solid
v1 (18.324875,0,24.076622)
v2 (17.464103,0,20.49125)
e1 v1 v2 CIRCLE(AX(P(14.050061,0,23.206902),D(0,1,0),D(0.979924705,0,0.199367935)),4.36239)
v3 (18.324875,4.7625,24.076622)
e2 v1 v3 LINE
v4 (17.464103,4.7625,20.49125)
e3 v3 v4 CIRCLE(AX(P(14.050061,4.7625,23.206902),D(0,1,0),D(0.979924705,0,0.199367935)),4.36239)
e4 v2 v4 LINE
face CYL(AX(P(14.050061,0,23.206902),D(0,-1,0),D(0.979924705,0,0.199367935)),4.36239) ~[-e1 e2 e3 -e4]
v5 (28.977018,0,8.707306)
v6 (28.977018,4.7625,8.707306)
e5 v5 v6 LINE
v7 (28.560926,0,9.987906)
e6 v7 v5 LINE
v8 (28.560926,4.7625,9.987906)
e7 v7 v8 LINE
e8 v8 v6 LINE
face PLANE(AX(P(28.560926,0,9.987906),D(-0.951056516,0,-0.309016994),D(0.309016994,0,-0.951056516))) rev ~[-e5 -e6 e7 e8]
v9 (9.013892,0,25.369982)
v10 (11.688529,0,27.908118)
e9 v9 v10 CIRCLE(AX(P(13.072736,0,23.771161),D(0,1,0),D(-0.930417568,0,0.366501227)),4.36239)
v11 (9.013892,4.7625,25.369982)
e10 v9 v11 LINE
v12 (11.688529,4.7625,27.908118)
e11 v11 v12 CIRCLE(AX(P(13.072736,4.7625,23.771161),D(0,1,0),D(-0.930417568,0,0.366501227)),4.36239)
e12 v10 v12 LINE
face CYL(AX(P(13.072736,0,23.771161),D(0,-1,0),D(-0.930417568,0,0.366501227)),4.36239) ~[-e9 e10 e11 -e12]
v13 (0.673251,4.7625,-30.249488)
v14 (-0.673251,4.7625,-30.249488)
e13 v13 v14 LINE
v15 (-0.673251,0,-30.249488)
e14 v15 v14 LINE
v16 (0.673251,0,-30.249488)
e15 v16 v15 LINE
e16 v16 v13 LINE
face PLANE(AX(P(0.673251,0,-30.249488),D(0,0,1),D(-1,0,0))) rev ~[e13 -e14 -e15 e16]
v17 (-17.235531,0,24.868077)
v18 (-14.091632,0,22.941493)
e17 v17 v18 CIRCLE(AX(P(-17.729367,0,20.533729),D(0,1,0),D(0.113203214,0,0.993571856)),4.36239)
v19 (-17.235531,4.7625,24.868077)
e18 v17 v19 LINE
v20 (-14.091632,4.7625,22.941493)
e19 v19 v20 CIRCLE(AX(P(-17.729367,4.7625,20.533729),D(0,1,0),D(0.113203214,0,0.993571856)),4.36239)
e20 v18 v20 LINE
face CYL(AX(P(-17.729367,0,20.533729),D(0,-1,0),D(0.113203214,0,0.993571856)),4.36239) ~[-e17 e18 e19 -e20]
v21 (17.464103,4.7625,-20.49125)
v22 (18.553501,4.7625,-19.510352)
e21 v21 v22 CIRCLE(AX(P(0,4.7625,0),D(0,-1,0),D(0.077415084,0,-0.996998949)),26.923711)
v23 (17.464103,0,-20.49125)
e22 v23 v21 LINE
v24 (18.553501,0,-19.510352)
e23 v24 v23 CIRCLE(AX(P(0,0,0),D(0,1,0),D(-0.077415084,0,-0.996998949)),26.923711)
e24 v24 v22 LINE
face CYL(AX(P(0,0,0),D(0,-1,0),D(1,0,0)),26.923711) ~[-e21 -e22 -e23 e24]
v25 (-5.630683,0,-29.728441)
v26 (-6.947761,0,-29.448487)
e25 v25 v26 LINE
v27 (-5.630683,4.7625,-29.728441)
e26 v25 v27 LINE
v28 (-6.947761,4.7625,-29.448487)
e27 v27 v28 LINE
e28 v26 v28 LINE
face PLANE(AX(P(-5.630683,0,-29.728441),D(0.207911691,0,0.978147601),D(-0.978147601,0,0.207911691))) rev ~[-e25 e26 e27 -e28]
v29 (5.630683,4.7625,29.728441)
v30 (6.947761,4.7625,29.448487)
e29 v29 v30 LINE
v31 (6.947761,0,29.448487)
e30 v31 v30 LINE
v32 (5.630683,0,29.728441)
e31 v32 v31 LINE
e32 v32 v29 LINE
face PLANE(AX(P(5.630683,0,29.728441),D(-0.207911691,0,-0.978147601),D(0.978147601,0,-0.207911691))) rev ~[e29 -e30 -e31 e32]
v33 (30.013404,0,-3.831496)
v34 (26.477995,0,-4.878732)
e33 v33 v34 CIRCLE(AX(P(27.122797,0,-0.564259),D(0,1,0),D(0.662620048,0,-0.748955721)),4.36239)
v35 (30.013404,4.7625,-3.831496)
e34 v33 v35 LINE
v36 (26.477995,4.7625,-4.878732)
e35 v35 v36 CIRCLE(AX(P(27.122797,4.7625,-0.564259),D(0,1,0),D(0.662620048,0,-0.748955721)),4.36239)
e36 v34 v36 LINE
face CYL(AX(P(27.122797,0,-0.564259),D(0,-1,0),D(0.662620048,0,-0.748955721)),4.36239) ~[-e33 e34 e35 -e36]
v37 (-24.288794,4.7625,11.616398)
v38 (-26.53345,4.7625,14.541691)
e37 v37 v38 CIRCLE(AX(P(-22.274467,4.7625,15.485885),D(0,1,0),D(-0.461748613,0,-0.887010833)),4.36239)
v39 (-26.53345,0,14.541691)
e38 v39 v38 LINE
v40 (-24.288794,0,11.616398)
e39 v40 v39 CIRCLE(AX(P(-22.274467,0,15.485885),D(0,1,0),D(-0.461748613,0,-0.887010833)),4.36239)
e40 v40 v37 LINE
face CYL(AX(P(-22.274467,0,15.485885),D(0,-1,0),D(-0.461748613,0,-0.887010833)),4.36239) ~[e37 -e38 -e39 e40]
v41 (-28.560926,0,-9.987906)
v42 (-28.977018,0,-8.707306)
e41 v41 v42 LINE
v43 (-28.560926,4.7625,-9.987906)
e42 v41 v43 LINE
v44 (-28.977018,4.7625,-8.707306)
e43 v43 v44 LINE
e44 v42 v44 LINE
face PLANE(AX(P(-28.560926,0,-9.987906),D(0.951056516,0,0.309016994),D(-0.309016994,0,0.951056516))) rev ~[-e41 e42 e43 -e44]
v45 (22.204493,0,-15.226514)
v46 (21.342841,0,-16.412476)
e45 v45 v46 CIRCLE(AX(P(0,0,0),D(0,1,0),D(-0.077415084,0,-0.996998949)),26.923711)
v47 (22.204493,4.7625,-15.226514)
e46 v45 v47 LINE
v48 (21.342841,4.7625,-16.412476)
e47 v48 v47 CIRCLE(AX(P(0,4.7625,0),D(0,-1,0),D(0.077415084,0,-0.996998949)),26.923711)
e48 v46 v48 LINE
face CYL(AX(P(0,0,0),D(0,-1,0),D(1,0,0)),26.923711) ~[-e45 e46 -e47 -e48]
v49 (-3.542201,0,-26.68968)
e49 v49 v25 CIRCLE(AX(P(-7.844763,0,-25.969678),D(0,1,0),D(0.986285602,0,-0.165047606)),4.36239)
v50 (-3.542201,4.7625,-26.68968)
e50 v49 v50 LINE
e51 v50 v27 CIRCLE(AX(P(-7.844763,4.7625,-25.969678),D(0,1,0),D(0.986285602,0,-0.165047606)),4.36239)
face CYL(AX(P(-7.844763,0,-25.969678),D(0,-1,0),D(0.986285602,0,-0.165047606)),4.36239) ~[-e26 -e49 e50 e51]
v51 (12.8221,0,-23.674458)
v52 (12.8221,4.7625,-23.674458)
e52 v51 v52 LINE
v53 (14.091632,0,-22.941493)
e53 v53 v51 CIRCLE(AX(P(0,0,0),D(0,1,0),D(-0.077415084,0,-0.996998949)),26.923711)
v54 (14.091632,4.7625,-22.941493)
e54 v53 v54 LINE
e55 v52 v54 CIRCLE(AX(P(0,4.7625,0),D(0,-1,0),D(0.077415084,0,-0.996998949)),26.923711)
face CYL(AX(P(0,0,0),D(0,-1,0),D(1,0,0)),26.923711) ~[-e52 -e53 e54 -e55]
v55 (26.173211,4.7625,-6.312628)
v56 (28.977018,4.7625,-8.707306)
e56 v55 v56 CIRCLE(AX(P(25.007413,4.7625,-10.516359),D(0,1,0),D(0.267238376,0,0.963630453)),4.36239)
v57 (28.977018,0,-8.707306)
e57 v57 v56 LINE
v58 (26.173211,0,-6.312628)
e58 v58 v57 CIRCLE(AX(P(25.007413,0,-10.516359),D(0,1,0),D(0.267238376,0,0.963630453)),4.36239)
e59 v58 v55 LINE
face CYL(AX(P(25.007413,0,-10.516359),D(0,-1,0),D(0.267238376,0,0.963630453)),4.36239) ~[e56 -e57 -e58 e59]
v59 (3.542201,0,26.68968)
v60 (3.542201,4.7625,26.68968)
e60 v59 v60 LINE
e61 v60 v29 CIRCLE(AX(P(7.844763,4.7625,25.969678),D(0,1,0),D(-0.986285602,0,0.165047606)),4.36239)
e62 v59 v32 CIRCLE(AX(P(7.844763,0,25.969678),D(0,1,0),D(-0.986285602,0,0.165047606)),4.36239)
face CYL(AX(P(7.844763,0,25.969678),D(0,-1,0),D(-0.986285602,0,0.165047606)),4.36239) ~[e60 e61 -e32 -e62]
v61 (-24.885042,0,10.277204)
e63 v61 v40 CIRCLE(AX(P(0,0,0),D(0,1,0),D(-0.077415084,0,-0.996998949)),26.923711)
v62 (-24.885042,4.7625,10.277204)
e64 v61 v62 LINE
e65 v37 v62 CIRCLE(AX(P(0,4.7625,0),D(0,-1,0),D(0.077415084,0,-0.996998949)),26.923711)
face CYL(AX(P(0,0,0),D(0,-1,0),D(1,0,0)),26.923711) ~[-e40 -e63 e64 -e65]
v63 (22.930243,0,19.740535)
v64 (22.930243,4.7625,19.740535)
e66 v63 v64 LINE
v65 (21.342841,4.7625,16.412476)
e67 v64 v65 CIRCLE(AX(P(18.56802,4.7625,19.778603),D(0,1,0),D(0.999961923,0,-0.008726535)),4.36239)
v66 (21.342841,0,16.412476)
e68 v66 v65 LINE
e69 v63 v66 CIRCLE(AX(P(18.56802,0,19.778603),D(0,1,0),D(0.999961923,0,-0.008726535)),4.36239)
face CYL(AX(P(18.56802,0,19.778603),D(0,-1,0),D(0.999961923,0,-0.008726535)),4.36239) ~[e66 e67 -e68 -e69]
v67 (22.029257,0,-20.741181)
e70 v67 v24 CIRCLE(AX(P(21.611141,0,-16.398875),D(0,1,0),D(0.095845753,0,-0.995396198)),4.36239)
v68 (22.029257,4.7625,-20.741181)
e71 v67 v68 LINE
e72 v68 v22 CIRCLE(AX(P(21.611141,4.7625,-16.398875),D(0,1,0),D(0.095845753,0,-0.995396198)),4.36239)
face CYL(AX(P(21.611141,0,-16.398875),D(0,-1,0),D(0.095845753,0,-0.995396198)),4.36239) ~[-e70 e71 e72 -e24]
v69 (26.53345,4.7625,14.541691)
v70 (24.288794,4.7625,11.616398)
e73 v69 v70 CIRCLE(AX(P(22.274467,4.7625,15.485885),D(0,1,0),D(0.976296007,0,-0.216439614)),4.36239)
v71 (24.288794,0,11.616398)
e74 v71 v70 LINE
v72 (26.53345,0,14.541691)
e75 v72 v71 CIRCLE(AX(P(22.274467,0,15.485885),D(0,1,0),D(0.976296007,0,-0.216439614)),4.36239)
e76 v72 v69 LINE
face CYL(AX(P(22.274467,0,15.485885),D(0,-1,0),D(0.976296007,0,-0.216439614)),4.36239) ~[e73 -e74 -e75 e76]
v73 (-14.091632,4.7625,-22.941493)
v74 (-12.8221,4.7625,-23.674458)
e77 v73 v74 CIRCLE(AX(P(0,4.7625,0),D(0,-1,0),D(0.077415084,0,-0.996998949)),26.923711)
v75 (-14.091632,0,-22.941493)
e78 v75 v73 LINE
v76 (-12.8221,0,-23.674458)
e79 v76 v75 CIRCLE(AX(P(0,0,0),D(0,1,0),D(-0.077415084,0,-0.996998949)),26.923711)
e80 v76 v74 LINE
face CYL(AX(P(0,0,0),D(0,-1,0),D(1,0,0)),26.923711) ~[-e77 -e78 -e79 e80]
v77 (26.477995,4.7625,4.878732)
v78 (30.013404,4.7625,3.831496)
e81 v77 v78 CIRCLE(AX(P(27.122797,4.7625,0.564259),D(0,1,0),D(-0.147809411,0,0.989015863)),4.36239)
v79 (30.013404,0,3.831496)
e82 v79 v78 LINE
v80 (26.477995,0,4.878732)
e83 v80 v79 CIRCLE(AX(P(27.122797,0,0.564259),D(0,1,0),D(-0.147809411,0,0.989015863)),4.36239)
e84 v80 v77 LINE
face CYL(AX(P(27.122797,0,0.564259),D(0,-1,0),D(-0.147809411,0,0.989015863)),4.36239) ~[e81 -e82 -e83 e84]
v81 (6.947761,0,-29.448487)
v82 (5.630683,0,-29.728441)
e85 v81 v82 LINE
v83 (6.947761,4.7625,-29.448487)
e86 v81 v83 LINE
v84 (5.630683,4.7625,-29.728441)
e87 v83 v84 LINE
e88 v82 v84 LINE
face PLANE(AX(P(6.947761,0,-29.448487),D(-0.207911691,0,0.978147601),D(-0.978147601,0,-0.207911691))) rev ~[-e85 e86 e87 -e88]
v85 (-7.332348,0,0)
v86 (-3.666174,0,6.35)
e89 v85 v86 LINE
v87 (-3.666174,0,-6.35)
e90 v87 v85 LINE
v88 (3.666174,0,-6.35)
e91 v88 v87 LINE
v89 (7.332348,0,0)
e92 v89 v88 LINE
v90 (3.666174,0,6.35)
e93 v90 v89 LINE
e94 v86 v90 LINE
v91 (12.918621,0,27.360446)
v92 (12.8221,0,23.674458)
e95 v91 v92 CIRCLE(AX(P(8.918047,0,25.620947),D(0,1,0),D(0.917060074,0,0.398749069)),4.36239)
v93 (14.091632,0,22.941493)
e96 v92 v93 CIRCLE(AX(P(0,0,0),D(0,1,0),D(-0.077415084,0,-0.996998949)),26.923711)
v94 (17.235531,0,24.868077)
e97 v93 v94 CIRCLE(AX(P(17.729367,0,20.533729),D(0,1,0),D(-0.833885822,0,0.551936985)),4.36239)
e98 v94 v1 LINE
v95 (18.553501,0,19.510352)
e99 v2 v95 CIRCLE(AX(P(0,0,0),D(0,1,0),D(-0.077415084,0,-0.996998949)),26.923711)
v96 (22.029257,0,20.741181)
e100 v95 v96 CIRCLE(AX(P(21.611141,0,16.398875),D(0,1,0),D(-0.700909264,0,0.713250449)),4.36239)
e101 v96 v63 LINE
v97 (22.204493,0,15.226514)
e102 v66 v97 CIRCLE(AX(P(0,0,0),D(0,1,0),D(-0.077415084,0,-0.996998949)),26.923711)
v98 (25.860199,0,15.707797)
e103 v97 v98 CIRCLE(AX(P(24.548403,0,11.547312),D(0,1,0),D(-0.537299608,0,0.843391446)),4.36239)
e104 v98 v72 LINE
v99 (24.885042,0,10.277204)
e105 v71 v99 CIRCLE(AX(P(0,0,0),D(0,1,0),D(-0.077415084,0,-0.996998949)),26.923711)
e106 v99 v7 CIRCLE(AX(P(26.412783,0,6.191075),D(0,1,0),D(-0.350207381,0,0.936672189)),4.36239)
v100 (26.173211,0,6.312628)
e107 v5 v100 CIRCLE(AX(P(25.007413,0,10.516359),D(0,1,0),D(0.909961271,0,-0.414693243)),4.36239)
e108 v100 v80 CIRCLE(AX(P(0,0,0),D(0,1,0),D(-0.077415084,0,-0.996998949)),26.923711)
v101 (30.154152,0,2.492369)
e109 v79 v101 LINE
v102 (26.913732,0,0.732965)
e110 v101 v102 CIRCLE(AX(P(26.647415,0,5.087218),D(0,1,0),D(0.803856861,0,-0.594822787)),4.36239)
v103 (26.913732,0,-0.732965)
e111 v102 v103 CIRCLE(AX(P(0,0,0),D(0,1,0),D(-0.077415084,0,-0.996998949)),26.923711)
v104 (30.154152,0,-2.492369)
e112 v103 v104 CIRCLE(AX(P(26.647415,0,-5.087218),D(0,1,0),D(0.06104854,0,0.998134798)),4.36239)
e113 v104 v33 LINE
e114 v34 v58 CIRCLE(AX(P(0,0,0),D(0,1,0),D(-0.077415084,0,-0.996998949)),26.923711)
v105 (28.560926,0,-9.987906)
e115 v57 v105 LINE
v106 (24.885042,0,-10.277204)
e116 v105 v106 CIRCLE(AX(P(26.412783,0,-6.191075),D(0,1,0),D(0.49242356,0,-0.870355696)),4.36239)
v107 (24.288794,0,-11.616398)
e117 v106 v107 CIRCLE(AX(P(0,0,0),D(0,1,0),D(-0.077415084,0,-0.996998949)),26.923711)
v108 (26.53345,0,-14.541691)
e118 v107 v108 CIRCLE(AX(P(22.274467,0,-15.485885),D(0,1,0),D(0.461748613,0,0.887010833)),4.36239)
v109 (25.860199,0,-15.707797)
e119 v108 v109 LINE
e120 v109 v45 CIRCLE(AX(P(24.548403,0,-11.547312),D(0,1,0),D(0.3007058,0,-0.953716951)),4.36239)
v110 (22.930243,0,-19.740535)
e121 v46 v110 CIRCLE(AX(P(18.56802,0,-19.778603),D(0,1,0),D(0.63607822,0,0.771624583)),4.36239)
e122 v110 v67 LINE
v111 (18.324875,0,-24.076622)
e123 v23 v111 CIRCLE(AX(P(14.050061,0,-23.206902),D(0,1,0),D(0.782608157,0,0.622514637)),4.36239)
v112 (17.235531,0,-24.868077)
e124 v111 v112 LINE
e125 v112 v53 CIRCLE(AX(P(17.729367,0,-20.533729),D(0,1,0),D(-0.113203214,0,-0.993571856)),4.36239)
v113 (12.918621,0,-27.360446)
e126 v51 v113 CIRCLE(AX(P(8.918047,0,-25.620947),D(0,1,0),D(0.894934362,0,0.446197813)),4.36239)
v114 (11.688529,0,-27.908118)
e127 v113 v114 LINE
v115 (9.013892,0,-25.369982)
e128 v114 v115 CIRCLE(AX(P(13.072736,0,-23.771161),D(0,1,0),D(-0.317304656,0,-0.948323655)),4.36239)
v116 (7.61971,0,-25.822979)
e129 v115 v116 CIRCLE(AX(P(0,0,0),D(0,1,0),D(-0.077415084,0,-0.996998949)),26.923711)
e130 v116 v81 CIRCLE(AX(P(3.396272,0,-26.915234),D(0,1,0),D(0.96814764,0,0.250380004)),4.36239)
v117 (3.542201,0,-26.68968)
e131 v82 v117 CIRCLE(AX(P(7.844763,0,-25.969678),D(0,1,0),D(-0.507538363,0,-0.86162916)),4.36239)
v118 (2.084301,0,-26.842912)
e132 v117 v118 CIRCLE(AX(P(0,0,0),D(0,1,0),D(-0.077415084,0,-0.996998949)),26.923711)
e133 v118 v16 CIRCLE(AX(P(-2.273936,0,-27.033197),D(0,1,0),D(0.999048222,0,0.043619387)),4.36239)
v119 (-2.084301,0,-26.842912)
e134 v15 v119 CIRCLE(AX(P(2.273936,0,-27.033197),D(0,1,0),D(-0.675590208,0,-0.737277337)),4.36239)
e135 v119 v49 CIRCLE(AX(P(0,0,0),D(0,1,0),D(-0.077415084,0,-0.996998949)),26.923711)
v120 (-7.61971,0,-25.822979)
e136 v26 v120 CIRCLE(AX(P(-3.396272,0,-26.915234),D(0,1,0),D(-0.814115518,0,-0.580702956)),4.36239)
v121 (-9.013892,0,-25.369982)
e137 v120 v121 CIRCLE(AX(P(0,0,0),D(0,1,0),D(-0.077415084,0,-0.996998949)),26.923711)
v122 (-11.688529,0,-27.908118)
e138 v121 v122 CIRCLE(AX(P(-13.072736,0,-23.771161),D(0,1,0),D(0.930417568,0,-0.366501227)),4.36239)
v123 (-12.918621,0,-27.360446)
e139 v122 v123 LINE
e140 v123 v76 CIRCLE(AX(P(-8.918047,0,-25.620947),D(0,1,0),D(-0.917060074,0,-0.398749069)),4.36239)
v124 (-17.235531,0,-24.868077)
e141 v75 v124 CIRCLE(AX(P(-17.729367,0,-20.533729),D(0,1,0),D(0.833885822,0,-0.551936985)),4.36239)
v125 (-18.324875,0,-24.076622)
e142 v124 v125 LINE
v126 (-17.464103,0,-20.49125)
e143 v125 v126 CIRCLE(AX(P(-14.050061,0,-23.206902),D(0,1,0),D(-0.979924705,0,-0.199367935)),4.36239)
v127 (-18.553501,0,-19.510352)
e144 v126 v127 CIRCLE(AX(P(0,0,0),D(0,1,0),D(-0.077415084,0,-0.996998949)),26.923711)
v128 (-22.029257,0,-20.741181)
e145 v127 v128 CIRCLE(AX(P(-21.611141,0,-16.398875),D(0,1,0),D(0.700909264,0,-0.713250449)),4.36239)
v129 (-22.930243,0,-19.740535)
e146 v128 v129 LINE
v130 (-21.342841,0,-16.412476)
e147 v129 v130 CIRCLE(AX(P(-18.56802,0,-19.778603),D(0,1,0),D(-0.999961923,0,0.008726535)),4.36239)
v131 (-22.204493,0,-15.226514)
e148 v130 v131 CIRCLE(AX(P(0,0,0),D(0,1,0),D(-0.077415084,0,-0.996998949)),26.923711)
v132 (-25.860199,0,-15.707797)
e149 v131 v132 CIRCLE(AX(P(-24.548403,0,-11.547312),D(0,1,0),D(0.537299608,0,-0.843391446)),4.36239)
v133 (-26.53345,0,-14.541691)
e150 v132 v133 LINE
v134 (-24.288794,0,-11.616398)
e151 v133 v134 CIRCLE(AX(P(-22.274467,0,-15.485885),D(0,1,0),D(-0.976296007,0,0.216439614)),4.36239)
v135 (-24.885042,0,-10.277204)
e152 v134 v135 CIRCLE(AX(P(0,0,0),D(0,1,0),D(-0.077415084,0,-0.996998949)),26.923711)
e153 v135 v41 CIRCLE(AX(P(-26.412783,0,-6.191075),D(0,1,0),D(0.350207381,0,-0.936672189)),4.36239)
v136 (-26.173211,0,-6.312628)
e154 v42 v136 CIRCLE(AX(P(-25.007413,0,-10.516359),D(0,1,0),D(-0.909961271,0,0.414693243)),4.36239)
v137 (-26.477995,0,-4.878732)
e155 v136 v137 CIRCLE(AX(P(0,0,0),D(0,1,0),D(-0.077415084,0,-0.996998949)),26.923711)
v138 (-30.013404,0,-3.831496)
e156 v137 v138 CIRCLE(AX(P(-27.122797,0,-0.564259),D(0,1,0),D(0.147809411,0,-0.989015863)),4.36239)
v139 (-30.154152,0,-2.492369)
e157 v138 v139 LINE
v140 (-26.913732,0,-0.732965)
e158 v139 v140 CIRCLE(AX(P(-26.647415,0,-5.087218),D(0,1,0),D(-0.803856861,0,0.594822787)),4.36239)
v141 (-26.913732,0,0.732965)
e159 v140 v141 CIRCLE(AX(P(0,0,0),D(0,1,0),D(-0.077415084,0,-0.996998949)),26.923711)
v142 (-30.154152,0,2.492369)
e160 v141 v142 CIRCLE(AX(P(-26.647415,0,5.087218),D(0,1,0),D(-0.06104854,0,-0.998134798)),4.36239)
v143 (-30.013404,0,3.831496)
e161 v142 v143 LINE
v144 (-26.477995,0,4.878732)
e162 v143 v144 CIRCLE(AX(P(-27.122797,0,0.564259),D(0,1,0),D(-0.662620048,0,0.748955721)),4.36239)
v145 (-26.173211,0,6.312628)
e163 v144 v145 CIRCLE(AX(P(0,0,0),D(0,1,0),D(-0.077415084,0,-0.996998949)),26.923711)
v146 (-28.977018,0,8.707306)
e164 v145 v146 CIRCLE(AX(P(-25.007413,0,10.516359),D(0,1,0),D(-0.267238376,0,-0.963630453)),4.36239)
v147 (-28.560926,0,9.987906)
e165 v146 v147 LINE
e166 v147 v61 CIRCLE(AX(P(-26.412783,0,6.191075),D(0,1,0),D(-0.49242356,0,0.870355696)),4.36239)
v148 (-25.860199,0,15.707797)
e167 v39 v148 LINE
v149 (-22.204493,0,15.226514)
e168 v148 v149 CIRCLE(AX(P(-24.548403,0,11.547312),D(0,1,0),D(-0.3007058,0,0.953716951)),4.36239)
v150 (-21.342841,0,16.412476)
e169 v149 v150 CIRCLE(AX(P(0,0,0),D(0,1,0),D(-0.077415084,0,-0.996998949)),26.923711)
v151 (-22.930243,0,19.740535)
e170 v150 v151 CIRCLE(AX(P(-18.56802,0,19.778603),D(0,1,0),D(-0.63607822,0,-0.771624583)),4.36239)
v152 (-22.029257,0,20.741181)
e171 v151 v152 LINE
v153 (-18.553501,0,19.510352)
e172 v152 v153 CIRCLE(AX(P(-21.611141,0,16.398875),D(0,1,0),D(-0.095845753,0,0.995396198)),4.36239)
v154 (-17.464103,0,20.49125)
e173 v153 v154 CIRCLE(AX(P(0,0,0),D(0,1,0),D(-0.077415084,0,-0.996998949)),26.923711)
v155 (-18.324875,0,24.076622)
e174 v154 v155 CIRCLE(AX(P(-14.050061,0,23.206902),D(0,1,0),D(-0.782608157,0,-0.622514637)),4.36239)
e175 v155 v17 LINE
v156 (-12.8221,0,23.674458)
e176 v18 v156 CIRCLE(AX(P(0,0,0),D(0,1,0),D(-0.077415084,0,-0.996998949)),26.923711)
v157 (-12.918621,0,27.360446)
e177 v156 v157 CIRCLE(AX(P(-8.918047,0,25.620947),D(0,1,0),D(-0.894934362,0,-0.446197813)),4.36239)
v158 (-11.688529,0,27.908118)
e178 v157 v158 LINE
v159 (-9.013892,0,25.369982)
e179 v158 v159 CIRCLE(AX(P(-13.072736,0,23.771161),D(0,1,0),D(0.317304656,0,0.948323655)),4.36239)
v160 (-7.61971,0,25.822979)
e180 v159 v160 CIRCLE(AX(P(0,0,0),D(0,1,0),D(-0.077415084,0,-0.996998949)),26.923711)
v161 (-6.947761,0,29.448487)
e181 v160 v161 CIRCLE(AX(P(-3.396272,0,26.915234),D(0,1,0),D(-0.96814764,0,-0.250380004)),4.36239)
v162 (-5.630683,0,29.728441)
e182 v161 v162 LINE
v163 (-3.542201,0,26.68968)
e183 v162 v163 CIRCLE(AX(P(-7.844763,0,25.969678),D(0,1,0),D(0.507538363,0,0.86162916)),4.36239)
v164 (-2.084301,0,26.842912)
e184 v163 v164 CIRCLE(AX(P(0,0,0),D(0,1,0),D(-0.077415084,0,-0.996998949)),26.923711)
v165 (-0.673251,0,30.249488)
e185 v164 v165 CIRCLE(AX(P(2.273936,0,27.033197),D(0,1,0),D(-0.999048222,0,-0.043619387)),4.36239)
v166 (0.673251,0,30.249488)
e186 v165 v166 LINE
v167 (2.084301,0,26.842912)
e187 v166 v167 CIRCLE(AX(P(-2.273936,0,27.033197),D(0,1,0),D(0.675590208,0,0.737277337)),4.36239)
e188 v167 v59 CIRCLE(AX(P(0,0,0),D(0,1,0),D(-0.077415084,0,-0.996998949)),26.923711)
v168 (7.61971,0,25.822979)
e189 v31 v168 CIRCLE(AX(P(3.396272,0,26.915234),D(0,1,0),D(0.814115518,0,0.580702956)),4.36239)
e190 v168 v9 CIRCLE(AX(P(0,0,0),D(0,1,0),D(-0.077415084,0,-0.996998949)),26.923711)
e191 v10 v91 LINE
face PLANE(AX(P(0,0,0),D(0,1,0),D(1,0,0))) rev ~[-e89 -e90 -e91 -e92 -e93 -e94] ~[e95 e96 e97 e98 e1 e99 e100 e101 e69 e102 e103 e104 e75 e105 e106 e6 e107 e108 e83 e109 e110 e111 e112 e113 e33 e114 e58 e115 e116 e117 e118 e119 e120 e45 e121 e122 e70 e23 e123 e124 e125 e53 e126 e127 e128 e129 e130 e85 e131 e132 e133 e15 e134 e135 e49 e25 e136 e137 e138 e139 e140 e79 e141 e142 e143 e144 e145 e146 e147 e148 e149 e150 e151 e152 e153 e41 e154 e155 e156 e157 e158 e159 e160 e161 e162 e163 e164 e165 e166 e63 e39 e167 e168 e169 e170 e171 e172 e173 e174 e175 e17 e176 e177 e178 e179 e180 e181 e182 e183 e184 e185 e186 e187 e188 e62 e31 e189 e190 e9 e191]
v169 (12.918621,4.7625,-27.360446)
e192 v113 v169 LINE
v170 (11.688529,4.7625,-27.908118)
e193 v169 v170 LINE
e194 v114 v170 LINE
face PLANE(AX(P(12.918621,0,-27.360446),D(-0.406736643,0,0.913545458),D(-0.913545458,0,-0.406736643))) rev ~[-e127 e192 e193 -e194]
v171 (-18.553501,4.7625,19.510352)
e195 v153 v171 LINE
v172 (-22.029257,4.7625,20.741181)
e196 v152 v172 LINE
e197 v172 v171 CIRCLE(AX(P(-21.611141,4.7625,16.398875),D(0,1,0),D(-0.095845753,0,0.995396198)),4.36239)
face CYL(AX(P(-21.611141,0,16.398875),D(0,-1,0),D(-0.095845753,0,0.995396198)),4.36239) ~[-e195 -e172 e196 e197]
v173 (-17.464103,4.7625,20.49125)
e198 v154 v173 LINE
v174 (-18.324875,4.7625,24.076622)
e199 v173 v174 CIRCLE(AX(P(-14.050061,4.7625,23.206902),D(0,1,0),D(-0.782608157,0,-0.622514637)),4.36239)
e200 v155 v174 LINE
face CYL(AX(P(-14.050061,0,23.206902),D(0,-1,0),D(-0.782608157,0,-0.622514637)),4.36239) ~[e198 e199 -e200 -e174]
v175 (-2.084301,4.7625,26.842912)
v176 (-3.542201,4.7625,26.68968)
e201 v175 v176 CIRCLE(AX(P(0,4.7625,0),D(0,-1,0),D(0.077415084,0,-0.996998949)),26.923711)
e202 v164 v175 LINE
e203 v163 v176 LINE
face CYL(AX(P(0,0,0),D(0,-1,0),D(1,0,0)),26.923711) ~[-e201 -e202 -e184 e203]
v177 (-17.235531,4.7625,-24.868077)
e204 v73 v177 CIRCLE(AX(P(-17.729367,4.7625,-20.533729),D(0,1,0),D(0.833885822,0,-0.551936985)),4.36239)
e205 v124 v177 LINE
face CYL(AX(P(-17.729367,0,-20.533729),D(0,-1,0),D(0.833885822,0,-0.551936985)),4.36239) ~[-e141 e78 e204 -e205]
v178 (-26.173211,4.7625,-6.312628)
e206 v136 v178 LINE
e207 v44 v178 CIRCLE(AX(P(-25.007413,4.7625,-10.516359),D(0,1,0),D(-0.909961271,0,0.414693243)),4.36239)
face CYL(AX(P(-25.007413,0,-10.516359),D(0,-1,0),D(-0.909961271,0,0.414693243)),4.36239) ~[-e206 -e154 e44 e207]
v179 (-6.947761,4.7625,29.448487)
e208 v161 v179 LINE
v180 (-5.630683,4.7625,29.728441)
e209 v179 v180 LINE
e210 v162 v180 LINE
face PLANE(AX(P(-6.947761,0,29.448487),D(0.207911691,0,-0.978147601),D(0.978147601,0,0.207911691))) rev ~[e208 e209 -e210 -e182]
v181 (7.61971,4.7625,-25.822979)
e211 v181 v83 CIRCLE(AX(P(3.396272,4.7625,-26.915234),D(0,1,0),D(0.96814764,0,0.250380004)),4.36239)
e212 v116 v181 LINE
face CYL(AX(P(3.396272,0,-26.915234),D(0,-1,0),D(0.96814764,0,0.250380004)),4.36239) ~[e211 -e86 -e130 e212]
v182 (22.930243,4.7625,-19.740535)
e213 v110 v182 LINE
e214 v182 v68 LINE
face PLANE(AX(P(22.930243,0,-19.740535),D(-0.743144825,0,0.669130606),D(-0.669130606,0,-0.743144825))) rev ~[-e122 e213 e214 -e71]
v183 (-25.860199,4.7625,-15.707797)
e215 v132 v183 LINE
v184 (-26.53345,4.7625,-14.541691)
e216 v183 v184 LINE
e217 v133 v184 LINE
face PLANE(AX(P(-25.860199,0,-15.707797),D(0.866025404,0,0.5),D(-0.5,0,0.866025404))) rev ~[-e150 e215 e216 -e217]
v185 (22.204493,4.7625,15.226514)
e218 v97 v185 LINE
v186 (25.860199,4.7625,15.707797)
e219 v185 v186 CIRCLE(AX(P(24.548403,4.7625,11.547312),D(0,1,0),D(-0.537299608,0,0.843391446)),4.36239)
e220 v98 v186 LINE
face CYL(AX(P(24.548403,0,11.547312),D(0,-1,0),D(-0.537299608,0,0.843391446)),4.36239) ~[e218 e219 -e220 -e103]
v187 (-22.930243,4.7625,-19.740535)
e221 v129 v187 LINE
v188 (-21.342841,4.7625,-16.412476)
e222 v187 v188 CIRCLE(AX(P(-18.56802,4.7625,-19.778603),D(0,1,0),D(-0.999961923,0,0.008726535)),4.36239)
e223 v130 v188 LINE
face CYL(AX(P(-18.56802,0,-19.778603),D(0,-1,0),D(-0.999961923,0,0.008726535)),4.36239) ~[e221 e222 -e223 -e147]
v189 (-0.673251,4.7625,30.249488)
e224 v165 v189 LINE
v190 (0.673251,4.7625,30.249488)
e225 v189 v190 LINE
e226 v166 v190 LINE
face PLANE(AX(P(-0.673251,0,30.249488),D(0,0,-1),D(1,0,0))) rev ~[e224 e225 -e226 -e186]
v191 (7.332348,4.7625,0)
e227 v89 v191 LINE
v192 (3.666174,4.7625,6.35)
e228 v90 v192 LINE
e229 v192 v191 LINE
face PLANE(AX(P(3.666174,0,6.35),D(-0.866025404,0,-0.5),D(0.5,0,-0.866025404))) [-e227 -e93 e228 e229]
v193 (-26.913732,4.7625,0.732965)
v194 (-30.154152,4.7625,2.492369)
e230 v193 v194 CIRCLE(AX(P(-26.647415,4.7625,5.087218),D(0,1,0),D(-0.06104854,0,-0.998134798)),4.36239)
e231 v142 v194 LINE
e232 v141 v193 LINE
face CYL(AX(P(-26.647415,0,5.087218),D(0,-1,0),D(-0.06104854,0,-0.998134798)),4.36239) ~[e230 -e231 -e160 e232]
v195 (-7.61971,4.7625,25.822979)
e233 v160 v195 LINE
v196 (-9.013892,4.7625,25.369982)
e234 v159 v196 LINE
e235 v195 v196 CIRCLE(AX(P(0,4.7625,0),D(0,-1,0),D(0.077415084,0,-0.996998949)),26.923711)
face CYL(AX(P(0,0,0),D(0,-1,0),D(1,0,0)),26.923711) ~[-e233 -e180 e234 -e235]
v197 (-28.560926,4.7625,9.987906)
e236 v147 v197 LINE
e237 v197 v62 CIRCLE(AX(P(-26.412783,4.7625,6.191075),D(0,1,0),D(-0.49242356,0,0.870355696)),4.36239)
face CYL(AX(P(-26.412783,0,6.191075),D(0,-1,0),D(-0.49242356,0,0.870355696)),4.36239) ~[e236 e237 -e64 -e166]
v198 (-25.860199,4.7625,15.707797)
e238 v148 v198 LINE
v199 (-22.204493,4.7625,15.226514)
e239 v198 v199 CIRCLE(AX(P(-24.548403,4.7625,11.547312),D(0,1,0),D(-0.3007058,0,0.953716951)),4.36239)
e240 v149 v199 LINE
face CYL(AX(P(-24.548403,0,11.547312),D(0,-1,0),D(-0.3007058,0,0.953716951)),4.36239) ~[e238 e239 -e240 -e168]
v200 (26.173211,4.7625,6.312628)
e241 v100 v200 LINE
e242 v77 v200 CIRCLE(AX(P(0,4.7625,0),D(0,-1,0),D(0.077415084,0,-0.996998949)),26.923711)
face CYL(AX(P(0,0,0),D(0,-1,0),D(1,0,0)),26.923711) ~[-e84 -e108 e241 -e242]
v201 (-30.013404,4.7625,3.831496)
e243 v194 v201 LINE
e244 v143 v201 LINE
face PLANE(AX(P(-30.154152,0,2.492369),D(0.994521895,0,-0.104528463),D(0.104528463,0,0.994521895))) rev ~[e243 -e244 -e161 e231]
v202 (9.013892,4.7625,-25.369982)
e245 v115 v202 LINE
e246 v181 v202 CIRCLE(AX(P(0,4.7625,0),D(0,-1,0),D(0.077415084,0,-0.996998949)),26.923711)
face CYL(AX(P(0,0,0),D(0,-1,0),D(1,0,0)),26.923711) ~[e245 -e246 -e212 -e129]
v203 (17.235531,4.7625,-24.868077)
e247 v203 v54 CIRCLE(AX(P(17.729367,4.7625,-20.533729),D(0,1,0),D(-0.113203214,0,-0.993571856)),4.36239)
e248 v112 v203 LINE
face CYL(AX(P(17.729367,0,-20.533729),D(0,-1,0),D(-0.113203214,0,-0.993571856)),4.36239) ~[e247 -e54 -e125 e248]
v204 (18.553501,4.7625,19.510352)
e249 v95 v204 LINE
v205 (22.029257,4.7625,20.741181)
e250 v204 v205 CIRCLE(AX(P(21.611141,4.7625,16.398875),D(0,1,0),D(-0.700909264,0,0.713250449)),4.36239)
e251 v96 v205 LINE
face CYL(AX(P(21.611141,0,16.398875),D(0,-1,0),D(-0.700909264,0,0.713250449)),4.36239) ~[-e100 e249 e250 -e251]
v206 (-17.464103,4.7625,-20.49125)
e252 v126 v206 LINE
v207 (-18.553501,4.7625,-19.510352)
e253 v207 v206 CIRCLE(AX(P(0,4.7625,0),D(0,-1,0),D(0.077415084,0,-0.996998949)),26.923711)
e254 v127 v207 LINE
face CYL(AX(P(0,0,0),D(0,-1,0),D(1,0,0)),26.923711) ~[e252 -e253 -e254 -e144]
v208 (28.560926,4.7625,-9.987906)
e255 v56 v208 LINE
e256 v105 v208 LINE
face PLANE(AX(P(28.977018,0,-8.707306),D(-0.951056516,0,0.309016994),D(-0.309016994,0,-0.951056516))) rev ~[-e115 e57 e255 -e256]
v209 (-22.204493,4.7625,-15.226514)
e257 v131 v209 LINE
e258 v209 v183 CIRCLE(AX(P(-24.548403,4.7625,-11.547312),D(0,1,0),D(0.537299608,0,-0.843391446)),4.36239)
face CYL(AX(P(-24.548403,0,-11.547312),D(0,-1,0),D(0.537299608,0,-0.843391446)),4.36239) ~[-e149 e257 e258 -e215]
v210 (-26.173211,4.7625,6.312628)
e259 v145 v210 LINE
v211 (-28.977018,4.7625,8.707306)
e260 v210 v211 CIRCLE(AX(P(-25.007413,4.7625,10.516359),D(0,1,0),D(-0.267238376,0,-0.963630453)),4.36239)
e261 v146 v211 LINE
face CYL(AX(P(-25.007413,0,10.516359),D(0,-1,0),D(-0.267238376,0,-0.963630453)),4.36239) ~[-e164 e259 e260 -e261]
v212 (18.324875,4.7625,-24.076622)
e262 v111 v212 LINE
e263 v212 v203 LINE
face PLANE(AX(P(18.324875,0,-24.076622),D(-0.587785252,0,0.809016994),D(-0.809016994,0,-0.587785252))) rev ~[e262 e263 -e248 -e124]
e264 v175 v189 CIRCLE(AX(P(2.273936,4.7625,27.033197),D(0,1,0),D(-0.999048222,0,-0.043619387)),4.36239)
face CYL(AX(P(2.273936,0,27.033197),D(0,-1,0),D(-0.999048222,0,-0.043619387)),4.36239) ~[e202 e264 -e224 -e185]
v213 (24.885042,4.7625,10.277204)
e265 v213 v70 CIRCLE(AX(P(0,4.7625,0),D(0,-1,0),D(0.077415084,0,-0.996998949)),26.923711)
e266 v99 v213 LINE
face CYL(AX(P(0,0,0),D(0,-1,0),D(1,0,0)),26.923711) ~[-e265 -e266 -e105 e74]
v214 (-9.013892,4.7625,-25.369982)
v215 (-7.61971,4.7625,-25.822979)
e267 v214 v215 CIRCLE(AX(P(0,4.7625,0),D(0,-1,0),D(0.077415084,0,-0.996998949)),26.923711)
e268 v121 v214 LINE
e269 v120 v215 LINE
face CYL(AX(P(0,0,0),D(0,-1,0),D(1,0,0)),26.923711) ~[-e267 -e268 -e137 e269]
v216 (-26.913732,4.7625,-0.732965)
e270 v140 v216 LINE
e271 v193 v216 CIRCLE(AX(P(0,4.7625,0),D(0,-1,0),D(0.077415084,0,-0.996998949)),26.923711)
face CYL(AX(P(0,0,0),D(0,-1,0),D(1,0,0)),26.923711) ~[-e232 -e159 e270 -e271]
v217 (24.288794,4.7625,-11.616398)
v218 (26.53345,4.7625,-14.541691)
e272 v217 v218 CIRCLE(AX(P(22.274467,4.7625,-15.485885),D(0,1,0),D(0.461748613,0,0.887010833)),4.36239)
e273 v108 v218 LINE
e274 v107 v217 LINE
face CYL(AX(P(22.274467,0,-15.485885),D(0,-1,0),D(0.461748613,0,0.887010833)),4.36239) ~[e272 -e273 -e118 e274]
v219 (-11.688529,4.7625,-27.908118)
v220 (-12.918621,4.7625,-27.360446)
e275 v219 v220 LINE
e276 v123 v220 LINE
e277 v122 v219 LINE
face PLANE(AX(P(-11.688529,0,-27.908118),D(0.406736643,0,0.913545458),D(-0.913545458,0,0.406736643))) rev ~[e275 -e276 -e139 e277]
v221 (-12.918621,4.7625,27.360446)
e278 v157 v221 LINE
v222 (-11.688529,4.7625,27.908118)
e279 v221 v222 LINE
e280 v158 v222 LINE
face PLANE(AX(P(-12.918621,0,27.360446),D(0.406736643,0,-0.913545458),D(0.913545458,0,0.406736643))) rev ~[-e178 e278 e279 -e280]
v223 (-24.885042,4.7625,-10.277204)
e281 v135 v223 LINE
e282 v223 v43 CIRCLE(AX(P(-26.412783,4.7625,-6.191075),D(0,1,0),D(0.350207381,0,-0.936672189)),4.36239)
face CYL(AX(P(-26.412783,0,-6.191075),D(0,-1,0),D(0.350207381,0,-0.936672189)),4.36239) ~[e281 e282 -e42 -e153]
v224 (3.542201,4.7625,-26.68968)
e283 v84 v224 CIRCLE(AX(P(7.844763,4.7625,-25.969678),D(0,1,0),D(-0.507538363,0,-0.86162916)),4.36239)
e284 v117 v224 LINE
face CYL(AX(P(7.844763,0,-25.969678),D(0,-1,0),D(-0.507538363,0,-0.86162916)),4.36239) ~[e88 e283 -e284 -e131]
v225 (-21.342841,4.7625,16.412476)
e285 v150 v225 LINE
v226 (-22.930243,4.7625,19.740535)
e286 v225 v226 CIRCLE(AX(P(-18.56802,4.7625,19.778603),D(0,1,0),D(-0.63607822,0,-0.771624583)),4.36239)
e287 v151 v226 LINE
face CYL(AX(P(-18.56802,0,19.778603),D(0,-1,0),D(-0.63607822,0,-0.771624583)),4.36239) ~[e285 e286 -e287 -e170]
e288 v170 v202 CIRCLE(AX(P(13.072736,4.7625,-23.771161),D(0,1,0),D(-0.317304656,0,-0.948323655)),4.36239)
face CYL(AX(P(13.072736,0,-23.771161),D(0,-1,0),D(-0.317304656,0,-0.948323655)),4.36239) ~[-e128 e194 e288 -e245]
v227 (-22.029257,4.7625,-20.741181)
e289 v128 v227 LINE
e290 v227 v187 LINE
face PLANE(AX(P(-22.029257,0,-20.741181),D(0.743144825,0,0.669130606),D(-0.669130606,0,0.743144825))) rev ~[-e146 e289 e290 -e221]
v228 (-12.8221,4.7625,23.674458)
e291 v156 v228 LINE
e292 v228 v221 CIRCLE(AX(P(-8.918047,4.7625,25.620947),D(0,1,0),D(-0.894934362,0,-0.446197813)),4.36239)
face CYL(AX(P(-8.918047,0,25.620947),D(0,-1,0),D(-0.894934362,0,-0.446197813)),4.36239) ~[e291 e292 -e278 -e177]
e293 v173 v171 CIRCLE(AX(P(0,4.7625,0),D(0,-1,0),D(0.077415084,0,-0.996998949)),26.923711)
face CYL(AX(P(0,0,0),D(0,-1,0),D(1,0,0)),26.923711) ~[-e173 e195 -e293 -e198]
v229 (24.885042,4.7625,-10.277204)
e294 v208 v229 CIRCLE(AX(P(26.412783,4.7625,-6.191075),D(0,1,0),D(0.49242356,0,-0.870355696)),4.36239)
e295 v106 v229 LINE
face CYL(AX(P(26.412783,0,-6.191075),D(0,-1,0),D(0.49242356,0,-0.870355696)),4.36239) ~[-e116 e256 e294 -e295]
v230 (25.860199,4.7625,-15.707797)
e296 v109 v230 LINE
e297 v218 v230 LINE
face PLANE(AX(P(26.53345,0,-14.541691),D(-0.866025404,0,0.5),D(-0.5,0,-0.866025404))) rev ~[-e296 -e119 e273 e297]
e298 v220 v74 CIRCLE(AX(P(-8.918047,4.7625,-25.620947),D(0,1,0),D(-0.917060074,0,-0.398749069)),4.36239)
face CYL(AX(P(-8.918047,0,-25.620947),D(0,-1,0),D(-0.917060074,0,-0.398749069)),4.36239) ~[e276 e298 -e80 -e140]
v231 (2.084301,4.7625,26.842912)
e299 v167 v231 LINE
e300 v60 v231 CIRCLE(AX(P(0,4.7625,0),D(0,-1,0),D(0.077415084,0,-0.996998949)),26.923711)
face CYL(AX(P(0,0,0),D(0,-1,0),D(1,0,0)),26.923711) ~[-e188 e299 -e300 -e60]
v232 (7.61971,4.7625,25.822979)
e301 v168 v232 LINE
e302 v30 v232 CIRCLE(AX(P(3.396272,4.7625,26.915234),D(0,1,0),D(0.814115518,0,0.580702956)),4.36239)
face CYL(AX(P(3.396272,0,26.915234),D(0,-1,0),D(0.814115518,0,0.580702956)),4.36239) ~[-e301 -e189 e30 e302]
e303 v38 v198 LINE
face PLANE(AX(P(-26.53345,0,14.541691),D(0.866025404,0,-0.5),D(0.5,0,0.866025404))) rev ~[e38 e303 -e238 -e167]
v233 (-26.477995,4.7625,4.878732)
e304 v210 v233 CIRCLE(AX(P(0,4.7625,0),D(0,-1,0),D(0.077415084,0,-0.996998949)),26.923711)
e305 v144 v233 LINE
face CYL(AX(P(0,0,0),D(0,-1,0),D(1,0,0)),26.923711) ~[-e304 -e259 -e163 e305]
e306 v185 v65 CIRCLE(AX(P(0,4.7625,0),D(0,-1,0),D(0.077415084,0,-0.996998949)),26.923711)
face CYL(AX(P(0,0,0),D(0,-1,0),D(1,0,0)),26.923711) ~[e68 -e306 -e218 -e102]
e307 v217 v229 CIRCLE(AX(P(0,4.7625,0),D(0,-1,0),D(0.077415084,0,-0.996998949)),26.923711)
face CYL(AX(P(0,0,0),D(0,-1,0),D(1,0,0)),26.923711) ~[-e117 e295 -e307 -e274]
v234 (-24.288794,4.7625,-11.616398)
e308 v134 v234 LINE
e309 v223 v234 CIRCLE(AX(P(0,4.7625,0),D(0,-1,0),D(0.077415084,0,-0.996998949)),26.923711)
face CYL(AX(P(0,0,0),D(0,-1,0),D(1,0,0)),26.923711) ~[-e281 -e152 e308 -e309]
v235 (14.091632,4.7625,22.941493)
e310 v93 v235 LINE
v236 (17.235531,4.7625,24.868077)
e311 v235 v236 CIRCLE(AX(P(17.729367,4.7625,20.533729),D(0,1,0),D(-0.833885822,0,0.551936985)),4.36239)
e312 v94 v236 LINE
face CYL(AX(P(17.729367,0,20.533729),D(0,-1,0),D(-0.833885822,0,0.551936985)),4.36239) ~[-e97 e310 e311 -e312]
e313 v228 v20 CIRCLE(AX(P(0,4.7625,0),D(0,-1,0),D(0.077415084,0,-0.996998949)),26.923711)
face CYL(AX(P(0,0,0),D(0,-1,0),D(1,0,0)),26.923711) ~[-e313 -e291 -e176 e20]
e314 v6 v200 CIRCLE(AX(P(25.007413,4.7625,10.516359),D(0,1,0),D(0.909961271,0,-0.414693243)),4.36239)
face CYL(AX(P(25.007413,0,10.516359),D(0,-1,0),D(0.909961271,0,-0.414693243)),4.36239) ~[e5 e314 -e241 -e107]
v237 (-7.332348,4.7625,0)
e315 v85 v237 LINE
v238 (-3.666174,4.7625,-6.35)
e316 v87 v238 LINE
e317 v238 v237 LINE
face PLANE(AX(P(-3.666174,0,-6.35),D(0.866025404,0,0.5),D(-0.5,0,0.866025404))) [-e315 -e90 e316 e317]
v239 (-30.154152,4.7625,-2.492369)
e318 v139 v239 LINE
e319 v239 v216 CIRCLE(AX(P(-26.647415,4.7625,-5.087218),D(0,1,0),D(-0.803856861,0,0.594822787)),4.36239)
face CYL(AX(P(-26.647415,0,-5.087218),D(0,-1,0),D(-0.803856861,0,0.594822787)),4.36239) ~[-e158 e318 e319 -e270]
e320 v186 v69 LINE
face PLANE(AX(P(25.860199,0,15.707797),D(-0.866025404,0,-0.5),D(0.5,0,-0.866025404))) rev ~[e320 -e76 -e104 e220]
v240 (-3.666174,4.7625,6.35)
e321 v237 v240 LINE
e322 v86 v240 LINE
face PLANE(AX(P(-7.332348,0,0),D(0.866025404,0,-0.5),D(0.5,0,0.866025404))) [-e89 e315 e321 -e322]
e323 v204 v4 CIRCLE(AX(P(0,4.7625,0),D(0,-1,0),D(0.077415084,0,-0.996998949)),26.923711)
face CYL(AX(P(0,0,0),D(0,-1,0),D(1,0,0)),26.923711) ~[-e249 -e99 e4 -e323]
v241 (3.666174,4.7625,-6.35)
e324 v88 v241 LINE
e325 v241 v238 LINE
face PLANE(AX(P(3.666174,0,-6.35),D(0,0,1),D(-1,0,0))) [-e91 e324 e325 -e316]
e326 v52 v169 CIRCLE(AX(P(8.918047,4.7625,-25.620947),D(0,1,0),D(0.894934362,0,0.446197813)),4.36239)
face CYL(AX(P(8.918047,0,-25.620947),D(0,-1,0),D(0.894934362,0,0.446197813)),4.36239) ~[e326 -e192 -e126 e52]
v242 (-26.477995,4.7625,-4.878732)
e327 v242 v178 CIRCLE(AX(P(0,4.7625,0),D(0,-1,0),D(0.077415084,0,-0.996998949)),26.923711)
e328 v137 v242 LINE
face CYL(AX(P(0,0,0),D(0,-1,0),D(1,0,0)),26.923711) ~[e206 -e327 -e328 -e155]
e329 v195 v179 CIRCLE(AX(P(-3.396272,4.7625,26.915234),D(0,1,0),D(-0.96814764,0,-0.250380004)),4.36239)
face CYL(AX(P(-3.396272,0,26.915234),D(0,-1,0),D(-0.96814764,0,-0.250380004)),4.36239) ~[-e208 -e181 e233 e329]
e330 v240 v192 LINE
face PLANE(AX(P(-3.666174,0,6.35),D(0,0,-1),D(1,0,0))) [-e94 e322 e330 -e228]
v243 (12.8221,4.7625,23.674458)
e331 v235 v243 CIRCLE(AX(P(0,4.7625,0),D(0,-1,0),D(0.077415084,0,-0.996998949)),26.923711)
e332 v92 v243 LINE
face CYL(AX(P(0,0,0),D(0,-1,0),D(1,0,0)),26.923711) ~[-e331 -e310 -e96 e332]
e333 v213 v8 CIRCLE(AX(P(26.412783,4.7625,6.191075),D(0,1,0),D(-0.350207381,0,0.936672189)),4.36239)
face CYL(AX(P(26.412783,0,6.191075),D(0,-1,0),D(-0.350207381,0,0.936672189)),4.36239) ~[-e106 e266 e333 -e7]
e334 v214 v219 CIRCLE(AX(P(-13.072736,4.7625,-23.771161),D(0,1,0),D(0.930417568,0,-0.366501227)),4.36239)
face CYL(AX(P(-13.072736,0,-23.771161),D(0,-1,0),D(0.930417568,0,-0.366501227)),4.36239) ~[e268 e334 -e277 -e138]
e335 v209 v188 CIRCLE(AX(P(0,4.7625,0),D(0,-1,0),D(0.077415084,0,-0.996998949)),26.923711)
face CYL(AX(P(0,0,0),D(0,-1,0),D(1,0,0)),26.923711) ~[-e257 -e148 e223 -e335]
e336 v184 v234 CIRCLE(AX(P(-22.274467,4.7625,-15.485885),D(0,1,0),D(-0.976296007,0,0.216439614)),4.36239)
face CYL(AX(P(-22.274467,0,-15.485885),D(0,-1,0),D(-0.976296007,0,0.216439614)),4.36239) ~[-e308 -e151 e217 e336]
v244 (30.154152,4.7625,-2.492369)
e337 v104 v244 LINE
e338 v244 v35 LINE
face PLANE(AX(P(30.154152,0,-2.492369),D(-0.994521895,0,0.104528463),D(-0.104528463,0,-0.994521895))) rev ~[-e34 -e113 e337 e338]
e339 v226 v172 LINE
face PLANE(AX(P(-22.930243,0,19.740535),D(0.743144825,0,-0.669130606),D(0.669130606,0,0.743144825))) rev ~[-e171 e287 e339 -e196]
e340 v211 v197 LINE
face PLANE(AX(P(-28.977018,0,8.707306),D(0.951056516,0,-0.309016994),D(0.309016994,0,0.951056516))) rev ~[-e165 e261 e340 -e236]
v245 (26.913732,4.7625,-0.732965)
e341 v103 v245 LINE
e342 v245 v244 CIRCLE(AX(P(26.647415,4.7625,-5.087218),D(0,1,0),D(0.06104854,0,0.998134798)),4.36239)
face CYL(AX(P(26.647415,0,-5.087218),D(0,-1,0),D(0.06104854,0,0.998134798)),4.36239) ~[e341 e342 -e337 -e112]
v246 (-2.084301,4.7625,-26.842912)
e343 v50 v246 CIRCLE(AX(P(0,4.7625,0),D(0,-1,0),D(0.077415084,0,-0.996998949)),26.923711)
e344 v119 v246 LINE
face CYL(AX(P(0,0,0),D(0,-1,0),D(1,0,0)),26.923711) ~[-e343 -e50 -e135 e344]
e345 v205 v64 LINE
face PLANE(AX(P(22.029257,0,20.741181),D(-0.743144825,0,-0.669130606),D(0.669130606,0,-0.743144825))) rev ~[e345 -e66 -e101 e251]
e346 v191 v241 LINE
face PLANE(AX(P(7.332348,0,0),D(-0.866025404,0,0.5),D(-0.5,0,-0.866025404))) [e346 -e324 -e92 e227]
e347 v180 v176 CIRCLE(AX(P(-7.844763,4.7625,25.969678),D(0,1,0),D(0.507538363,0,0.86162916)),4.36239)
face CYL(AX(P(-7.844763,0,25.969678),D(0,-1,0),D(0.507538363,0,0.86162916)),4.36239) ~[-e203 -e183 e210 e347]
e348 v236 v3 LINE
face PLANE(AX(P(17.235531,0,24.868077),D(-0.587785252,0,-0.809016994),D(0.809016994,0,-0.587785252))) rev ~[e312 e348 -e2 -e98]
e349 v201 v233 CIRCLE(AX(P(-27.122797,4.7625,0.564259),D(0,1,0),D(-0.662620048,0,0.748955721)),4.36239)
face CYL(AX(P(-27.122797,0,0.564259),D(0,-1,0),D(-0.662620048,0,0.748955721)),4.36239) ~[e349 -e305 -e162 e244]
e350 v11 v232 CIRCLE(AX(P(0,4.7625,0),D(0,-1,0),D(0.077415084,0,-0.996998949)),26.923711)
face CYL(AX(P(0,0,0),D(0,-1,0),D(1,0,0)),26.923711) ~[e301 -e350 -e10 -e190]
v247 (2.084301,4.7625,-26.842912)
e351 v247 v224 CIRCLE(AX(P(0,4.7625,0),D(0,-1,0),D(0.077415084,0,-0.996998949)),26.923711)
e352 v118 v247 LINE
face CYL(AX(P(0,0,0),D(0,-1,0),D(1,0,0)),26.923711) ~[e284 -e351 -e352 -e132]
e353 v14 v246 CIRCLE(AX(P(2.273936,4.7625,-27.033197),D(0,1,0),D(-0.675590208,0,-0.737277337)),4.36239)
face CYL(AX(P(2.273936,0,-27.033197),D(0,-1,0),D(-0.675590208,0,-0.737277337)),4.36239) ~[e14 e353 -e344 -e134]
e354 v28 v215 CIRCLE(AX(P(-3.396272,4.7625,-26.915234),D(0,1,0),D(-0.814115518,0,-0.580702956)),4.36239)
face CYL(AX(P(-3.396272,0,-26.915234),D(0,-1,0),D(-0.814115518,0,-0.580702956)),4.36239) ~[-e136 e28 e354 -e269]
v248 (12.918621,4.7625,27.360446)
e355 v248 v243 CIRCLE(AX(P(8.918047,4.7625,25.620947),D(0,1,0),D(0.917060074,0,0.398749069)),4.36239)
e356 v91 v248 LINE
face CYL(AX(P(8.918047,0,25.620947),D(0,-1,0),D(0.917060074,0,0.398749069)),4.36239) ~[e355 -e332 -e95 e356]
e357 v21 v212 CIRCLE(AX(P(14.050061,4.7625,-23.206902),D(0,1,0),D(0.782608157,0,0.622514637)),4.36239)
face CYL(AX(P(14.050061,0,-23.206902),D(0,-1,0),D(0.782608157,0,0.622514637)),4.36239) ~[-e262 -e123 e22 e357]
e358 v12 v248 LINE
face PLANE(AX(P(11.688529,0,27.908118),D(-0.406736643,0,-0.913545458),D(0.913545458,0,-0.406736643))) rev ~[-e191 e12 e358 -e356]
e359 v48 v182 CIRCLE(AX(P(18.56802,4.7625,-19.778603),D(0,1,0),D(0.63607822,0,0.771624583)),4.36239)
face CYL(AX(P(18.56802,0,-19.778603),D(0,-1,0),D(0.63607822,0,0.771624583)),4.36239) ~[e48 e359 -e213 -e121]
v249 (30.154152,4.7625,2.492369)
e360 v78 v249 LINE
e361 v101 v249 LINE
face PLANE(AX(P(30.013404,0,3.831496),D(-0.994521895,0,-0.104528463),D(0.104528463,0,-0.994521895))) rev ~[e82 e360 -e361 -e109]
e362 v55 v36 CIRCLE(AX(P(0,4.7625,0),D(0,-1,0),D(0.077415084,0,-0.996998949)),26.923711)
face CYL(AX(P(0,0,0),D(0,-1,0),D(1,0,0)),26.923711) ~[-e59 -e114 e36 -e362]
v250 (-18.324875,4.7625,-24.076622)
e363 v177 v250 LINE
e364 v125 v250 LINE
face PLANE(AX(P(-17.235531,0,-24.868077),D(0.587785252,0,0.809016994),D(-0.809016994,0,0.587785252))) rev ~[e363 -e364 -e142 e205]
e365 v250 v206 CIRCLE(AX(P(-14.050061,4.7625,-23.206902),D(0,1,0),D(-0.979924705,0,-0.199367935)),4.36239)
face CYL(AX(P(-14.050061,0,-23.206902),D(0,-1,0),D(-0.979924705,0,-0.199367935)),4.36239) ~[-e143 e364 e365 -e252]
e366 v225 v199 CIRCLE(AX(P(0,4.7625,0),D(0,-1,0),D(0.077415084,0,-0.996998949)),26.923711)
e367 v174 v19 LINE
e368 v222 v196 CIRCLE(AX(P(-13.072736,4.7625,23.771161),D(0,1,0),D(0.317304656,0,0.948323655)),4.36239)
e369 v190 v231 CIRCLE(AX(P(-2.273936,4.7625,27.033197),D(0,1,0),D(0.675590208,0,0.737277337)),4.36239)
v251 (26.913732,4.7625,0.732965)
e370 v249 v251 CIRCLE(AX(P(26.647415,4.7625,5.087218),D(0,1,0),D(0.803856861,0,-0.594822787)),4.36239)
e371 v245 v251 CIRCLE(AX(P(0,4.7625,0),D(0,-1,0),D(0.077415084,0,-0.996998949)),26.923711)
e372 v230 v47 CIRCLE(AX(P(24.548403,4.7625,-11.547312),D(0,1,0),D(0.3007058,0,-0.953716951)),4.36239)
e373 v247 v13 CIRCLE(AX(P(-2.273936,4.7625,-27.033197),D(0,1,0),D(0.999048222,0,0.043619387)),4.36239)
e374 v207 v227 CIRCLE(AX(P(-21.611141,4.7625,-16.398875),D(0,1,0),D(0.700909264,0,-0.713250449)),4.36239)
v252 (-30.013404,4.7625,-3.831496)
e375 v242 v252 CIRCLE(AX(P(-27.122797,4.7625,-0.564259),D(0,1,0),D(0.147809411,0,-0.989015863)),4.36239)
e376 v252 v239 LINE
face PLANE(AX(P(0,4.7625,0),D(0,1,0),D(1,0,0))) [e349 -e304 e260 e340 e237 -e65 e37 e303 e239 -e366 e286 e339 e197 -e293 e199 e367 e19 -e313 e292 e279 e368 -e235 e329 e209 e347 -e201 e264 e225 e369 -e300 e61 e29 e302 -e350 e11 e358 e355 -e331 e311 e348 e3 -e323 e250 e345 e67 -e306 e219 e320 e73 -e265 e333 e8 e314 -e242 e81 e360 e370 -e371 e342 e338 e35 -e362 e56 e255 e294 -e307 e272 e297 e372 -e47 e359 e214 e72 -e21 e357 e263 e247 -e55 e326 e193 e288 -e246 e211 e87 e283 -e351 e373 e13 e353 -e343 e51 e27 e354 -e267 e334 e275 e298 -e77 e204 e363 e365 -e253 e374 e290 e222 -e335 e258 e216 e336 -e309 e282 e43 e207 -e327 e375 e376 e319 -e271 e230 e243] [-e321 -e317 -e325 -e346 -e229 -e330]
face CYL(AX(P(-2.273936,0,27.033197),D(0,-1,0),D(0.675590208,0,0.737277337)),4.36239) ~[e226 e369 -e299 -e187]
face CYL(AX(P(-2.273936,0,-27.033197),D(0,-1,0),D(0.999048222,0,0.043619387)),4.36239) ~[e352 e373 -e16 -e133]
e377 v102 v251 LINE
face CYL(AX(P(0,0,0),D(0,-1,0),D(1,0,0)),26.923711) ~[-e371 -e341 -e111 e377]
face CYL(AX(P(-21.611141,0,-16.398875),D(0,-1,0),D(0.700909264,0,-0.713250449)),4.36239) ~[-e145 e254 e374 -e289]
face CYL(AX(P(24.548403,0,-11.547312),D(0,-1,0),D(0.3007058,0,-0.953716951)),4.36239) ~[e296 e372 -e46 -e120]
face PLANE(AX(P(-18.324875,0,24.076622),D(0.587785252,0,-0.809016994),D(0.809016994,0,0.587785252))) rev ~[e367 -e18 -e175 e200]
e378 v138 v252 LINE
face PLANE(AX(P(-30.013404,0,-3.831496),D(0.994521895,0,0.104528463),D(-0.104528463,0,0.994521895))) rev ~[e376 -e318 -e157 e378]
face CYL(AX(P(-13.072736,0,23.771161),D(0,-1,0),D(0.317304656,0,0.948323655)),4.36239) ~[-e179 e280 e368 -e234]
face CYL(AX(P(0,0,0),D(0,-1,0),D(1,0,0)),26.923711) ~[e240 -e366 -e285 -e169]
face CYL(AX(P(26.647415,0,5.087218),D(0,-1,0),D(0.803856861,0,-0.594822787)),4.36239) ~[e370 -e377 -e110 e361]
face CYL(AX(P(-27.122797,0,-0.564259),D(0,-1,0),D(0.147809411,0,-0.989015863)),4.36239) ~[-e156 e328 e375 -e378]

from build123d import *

# Parameters (mm, degrees)
SKETCH2_R           = 26.923711167
BOSS_EXTRUDE2_DEPTH = 4.7625
BOSS_EXTRUDE3_DEPTH = 4.7625
CIRPATTERN1_COUNT   = 30


with BuildPart() as part:
    # Sketch2 → Boss-Extrude2 (new body)
    with BuildSketch(Plane(origin=(0, 0, 0), x_dir=(1, 0, 0), z_dir=(0, 1, 0))):
        Circle(SKETCH2_R)
        Polygon((7.332348419, 0), (3.666174209, 6.35), (-3.666174209, 6.35), (-7.332348419, 0), (-3.666174209, -6.35), (3.666174209, -6.35), align=None, mode=Mode.SUBTRACT)
    extrude(amount=BOSS_EXTRUDE2_DEPTH)

    # Sketch1 → Boss-Extrude3 (add)
    with BuildSketch(Plane(origin=(0, 0, 0), x_dir=(1, 0, 0), z_dir=(0, 1, 0))):
        with BuildLine():
            Line((0.673251408, 30.249487652), (-0.673251408, 30.249487652))
            ThreePointArc((-0.673251408, 30.249487652), (-1.756386228, 28.702610818), (-2.084301351, 26.842911743))
            ThreePointArc((-2.084301351, 26.842911743), (0, 26.923711167), (2.084301351, 26.842911743))
            ThreePointArc((2.084301351, 26.842911743), (1.756386228, 28.702610818), (0.673251408, 30.249487652))
        make_face()
    boss_extrude3 = extrude(amount=BOSS_EXTRUDE3_DEPTH)

    # CirPattern1: Boss-Extrude3 ×30 about axis
    cirpattern1_axis = Axis((0, 0, 0), (0, 1, 0))
    for i in range(1, CIRPATTERN1_COUNT):
        add(boss_extrude3.rotate(cirpattern1_axis, i * 360 / CIRPATTERN1_COUNT))


solid = part.part
